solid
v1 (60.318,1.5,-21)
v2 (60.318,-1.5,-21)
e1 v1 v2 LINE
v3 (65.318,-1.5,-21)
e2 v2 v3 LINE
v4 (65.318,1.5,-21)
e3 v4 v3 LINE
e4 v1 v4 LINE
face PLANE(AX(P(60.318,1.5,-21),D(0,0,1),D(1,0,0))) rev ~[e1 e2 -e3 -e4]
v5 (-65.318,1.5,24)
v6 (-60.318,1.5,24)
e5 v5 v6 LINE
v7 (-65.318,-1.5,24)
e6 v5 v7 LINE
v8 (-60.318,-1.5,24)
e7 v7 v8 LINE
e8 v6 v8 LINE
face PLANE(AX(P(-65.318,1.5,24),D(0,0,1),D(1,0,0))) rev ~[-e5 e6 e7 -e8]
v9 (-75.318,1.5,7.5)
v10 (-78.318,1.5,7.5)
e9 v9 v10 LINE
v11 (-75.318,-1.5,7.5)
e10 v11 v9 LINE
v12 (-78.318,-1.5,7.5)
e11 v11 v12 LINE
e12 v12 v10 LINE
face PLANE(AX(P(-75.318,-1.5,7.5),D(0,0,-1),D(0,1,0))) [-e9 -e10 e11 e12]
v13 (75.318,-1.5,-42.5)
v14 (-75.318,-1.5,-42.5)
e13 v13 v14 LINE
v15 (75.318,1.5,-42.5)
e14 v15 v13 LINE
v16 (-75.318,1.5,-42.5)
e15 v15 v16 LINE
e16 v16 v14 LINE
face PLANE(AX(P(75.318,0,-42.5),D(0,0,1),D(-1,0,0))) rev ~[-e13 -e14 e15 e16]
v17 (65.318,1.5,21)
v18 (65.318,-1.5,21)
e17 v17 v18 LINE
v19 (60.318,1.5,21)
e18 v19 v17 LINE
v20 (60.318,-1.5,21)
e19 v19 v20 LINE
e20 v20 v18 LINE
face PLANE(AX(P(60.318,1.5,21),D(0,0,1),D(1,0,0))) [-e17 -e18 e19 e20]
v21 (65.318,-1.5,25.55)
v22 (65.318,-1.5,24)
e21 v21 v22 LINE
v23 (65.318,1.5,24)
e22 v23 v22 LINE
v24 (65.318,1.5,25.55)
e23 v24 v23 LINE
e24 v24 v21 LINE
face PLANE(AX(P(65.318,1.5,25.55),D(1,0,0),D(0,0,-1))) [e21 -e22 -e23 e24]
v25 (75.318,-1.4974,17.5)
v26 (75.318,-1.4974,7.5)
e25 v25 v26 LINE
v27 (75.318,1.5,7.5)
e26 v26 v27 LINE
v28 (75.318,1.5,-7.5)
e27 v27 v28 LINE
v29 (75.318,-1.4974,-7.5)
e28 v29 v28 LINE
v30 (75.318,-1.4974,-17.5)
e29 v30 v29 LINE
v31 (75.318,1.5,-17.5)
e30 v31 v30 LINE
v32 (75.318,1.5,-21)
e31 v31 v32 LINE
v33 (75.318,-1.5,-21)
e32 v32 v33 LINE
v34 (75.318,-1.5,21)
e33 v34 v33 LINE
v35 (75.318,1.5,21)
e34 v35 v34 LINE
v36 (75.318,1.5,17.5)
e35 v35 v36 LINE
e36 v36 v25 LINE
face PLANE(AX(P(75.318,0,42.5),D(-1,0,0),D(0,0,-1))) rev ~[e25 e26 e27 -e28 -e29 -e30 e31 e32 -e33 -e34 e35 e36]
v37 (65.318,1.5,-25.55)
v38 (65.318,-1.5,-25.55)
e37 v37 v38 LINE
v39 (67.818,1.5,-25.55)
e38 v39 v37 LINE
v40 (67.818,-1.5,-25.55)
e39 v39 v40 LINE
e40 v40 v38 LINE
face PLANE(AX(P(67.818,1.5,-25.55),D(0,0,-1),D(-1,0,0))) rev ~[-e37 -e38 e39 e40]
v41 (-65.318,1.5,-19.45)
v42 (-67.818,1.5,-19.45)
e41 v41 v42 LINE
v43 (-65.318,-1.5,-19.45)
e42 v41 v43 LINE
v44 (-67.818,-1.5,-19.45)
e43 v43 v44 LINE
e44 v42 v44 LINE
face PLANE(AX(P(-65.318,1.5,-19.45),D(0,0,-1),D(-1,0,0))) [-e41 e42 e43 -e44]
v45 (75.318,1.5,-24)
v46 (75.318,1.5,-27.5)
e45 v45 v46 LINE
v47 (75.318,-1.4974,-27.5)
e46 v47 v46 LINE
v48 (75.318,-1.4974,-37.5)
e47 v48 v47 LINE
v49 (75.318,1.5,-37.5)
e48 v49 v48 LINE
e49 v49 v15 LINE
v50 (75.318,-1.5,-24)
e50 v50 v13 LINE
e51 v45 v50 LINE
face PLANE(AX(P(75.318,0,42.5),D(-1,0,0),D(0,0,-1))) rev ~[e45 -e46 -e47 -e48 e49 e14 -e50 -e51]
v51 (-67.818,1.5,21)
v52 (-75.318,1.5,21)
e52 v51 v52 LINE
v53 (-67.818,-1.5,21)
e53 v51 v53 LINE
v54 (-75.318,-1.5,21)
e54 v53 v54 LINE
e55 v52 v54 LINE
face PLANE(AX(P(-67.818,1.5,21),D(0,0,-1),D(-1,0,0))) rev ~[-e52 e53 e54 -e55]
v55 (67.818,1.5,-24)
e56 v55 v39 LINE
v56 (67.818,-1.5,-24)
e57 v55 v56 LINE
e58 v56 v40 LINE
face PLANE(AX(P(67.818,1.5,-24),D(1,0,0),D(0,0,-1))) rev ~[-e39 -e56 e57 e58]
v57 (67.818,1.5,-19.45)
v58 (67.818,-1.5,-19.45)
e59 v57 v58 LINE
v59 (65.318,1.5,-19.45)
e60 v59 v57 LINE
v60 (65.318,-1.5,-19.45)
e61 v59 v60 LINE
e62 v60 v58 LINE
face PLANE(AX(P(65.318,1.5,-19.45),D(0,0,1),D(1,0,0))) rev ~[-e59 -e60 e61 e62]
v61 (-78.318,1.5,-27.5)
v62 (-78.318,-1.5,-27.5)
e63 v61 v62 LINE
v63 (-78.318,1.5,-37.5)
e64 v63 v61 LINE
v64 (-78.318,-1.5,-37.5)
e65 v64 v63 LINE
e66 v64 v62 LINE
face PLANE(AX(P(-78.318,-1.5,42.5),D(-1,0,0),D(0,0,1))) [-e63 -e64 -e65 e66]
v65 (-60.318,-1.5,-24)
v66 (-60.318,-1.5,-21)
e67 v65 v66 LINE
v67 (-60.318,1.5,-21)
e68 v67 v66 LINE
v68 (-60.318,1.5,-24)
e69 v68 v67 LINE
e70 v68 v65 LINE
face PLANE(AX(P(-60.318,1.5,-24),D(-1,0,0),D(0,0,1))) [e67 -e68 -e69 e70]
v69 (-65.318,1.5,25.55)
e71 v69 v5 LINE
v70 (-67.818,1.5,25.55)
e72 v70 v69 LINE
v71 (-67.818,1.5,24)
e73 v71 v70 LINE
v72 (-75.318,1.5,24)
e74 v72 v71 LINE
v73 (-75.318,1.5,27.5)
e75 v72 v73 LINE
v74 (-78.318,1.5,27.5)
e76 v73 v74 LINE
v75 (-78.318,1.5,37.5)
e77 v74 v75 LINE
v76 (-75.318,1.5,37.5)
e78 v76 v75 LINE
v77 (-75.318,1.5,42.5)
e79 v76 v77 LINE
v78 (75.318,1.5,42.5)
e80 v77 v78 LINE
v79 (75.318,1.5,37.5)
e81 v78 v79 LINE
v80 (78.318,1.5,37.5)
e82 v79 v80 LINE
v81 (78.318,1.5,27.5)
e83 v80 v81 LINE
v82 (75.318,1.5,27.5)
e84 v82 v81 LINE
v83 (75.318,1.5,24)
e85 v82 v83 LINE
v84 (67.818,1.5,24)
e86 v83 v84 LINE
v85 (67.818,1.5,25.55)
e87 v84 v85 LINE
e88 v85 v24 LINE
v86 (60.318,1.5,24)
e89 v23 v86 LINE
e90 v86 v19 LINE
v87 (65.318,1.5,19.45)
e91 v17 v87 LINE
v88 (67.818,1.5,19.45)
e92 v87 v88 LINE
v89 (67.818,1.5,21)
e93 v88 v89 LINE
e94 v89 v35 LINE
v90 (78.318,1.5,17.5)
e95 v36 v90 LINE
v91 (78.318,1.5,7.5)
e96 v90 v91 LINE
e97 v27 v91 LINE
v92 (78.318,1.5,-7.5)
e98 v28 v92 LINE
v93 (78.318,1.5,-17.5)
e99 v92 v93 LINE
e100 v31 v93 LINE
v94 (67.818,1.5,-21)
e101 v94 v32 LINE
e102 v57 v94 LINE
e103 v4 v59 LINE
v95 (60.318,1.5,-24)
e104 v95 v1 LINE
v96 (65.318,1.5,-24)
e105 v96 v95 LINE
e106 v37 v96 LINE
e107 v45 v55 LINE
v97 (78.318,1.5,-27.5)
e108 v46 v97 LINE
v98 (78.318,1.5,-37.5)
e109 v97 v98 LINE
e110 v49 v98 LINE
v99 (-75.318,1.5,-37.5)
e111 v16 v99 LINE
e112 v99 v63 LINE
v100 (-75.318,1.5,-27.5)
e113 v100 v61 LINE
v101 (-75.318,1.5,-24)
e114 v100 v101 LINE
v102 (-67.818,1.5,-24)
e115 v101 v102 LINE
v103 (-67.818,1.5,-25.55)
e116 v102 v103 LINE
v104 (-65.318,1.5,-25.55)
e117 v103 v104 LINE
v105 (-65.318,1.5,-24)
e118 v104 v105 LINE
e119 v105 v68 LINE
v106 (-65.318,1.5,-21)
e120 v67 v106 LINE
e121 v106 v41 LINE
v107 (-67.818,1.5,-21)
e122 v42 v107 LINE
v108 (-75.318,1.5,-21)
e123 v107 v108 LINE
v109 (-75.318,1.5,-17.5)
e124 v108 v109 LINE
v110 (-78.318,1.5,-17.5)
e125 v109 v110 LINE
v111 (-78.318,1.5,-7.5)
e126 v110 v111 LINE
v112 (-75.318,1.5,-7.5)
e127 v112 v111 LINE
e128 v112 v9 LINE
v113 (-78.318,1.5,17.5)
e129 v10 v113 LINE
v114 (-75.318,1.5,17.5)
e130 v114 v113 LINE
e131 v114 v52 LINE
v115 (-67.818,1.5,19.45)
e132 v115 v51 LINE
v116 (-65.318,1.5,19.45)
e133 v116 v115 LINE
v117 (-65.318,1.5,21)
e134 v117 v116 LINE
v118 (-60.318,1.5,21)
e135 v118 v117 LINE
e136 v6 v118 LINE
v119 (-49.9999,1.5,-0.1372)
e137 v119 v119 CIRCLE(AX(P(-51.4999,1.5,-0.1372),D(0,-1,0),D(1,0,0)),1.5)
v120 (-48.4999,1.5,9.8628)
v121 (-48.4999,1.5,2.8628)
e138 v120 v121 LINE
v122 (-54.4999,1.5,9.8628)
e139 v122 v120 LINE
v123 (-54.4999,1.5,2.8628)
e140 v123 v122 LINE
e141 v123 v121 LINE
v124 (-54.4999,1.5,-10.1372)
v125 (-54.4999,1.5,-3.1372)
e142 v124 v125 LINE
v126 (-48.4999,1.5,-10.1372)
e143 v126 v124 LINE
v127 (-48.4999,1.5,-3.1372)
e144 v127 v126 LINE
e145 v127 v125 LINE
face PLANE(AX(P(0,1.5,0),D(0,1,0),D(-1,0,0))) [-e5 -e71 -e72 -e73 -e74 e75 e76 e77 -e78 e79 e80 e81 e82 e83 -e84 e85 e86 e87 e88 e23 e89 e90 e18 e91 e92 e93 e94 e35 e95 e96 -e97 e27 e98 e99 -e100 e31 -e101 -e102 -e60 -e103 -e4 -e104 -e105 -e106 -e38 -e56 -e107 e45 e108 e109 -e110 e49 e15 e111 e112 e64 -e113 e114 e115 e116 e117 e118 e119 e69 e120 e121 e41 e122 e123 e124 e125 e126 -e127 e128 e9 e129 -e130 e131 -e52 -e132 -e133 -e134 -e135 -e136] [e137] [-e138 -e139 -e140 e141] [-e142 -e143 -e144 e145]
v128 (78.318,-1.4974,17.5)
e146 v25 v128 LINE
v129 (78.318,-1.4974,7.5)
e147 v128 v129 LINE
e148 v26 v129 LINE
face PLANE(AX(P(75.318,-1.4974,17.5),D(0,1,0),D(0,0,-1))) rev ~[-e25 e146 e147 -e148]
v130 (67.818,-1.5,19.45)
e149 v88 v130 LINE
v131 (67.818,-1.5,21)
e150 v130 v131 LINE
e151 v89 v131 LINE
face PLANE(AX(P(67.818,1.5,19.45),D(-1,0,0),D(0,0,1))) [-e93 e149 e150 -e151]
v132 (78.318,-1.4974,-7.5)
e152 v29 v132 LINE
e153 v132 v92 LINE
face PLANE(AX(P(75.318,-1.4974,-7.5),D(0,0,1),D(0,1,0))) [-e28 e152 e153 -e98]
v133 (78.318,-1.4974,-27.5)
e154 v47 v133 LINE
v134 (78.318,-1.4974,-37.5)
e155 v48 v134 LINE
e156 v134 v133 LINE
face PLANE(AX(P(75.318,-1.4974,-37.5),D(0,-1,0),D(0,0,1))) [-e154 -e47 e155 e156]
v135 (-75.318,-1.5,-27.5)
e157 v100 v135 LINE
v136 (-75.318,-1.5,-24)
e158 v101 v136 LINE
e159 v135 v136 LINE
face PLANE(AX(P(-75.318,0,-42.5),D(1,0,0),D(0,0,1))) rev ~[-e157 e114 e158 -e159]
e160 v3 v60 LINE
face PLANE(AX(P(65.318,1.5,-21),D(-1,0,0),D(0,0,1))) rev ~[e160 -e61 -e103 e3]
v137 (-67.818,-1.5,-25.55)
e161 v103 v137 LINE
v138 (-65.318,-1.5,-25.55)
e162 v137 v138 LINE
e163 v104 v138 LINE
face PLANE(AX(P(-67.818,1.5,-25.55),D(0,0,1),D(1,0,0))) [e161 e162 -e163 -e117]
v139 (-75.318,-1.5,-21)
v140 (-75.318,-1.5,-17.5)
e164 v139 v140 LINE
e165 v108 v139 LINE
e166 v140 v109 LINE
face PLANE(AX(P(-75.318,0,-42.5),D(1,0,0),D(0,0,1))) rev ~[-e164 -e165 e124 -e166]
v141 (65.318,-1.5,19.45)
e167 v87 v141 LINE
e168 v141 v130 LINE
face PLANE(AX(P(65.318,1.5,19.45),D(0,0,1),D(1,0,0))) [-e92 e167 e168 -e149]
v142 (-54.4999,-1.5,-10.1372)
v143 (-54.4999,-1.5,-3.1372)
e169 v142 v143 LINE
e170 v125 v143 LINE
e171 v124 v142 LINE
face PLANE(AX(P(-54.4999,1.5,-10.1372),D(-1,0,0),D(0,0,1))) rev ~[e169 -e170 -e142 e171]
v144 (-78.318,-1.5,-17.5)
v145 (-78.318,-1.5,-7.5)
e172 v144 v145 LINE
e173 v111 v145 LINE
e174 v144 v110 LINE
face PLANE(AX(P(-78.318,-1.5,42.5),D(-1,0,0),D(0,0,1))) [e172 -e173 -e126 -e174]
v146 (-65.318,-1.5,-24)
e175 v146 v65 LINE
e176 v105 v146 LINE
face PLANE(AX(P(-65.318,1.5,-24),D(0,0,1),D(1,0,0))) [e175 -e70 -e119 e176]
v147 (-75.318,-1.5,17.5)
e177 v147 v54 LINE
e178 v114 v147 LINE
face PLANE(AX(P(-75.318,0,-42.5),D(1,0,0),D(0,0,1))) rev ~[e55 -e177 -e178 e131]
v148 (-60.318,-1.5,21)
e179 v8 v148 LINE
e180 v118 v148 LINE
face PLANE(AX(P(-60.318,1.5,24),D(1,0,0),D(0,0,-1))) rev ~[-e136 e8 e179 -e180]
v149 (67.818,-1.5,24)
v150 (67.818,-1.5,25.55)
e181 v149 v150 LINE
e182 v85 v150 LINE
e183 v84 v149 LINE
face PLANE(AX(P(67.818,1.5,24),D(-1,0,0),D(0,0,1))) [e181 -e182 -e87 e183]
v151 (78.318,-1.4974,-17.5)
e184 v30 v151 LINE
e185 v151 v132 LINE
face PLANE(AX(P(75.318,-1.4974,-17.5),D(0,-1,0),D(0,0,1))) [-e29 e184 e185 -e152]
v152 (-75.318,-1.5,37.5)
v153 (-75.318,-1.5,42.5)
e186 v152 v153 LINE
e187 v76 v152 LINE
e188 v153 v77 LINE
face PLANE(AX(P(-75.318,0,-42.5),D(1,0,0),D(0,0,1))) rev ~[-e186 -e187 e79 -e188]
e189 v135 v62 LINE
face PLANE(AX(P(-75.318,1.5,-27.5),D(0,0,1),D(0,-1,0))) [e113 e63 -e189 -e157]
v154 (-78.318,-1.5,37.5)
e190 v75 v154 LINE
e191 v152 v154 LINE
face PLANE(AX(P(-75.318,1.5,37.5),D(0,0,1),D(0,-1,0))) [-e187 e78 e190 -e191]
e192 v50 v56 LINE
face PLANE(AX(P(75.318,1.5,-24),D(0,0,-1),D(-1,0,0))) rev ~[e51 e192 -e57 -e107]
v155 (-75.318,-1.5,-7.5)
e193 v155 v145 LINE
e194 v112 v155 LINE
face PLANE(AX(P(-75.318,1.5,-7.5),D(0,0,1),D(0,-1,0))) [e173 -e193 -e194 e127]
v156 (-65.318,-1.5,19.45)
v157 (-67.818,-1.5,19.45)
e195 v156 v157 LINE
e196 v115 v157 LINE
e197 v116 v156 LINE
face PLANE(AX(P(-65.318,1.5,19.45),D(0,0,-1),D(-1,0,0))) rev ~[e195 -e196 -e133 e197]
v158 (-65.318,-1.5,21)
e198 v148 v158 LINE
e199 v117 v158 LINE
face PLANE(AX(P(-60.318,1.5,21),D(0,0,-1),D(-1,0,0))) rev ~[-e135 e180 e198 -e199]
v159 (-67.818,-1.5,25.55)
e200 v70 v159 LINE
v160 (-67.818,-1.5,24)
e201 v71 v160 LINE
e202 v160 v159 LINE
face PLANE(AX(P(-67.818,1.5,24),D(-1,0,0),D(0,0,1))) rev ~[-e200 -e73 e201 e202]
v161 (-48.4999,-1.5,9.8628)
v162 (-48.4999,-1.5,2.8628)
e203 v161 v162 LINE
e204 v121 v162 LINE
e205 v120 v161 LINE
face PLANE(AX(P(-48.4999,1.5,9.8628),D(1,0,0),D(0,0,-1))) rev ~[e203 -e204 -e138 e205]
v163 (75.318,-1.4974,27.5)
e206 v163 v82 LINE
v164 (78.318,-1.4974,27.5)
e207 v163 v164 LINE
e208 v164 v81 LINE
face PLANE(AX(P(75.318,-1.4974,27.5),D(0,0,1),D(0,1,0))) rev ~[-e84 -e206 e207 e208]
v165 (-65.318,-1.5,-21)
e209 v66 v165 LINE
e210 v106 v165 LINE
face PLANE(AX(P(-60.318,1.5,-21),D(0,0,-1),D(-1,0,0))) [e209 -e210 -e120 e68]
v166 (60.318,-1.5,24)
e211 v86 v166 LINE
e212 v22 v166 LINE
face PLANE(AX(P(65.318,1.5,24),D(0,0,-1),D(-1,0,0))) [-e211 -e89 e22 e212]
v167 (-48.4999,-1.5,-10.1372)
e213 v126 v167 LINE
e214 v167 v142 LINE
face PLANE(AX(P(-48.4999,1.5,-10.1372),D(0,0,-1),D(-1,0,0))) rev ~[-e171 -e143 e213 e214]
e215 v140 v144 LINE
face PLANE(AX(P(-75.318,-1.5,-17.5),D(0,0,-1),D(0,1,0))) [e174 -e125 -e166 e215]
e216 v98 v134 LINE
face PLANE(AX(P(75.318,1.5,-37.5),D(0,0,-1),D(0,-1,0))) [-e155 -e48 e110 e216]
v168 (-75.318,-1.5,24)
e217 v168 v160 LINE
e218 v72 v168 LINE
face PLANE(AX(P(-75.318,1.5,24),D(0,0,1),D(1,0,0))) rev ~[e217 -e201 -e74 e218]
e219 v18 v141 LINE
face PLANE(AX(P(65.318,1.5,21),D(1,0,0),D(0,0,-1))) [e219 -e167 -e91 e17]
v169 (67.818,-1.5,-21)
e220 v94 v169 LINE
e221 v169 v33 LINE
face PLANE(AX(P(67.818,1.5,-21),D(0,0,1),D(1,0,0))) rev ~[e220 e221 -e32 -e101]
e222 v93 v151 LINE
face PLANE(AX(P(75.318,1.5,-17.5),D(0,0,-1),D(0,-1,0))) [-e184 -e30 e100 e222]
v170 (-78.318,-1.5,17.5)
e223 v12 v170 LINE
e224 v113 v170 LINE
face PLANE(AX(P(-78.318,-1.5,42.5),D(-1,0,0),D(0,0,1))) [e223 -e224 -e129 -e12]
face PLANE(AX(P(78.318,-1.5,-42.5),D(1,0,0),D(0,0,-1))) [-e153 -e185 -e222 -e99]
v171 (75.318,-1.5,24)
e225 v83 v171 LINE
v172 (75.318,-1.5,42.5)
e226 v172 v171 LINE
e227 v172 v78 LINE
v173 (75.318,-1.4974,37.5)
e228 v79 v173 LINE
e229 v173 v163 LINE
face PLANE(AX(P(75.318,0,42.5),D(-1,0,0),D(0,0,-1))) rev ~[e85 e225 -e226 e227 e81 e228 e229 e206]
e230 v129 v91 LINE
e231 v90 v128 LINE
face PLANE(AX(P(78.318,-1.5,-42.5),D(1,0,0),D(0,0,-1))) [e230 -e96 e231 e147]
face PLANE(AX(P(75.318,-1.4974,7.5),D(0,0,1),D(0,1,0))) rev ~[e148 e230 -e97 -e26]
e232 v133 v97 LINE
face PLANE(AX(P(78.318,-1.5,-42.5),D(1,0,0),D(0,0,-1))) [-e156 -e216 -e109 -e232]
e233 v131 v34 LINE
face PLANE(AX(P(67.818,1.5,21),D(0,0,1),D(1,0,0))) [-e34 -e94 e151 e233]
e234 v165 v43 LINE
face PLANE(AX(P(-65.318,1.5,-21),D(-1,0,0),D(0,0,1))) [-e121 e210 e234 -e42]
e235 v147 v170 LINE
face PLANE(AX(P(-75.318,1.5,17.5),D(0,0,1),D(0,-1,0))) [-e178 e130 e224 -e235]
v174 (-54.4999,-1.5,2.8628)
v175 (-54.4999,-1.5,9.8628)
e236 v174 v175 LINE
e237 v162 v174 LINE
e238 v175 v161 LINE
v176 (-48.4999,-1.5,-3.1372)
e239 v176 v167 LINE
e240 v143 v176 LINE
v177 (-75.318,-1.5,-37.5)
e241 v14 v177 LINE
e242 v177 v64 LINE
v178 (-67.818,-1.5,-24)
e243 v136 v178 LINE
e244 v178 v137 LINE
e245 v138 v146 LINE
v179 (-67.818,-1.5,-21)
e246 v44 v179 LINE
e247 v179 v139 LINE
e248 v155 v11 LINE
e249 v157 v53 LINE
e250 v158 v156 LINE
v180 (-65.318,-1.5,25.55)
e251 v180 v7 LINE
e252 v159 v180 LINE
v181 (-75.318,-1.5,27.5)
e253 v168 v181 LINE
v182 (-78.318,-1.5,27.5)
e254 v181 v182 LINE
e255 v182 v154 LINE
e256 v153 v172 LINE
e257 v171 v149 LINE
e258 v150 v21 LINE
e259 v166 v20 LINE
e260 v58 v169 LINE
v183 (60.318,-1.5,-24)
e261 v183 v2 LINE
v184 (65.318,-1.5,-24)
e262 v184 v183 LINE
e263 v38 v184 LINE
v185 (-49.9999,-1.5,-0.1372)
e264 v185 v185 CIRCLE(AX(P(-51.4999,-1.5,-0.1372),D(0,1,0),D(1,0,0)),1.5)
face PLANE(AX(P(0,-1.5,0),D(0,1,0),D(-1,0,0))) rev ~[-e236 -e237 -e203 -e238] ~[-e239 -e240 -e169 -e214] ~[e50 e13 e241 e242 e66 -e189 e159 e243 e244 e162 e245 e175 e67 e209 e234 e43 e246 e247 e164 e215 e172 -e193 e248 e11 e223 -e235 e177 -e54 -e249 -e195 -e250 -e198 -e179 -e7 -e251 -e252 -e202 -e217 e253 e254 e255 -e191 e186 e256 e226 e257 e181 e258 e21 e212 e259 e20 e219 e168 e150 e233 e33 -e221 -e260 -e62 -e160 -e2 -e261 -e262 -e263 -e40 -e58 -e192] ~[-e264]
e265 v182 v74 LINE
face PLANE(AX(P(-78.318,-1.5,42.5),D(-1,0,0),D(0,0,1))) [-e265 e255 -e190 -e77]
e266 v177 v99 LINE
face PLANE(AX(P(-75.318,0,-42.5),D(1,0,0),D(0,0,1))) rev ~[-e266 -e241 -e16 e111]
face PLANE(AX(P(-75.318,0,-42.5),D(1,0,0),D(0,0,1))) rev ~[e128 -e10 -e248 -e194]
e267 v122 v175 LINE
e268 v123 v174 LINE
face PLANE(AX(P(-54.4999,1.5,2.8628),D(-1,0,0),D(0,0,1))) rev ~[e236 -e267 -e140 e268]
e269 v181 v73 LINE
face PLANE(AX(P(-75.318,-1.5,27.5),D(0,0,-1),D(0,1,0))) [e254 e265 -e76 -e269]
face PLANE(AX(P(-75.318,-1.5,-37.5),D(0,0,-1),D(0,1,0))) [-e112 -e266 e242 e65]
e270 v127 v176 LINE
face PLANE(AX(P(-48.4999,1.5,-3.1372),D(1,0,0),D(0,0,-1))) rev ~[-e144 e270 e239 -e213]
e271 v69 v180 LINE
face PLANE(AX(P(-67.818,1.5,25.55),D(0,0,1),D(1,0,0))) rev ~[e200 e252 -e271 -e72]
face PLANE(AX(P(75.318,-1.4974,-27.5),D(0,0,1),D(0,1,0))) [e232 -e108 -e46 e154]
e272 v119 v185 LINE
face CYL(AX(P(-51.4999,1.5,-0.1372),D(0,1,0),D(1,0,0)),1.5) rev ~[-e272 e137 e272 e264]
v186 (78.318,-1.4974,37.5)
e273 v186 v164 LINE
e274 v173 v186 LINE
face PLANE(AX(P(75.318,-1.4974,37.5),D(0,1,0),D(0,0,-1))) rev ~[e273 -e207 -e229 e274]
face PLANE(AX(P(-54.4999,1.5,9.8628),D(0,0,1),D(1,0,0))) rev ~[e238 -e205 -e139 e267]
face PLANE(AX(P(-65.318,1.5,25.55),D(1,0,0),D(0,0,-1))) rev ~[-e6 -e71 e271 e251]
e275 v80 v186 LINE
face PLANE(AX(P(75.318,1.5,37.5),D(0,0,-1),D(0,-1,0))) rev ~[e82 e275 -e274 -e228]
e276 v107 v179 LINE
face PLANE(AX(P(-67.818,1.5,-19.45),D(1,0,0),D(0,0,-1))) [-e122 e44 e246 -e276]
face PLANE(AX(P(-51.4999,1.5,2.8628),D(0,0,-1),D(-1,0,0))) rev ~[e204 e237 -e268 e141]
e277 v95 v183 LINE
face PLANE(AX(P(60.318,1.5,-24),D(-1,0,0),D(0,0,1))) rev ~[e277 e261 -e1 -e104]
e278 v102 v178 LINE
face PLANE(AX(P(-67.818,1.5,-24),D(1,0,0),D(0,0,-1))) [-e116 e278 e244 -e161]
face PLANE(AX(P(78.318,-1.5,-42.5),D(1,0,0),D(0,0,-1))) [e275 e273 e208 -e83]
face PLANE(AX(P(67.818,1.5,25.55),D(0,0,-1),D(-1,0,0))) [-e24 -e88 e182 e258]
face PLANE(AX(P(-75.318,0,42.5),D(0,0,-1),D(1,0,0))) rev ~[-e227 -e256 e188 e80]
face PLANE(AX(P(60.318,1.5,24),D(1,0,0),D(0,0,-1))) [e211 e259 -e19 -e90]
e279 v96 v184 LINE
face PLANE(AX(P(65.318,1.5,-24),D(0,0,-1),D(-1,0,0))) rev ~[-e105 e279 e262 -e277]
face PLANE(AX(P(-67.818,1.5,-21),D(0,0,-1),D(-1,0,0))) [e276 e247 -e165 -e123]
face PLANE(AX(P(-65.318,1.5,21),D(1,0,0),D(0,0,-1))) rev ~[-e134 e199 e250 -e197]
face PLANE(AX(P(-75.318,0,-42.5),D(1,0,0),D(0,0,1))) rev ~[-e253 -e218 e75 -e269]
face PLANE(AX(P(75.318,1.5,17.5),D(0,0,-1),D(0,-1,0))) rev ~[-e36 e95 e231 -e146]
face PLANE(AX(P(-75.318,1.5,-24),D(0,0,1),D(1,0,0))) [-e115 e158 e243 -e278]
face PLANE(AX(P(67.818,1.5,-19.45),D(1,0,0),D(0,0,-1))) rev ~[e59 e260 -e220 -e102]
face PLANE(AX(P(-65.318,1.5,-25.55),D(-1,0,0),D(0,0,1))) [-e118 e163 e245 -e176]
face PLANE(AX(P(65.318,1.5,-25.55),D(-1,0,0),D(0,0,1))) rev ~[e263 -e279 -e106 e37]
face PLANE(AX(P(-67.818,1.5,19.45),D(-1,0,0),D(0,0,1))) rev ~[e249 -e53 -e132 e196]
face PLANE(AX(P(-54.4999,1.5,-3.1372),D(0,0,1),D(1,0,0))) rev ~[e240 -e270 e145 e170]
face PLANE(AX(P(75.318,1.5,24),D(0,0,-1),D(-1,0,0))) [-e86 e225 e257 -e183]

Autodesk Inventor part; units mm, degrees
ref_plane "YZ Plane" through (0, 0, 0) normal (1, 0, 0) x (0, 1, 0)
ref_plane "XZ Plane" through (0, 0, 0) normal (0, 1, 0) x (-1, 0, 0)
ref_plane "XY Plane" through (0, 0, 0) normal (0, 0, 1) x (1, 0, 0)
sketch "Эскиз1" plane through (0, 0, 0) normal (0, 1, 0) x (-1, 0, 0)
  line L0 (75.318, 42.5) -> (-75.318, 42.5)
  line L1 (-75.318, 42.5) -> (-75.318, -42.5)
  line L2 (-75.318, -42.5) -> (75.318, -42.5)
  line L3 (75.318, -42.5) -> (75.318, 42.5)
  line L4 (75.318, 42.5) -> (-75.318, -42.5) construction
  line L5 (-75.318, 42.5) -> (75.318, -42.5) construction
  point P0 (0, 0)
  dimension "d0" = 150.636
  dimension "d1" = 85
extrude "Выдавливание1" add sketch "Эскиз1" along normal mid plane 3
sketch "Эскиз3" plane through (-75.318, -1.5, 42.5) normal (-1, 0, 0) x (0, 0, 1)
  line L0 (-85, 0) -> (0, 0) projected
  line L1 (-80, 3) -> (-70, 3)
  line L2 (-70, 3) -> (-70, 0)
  line L3 (-70, 0) -> (-80, 0)
  line L4 (-80, 0) -> (-80, 3)
  line L5 (-80, 3) -> (-70, 0) construction
  line L6 (-70, 3) -> (-80, 0) construction
  line L7 (-60, 3) -> (-50, 3)
  line L8 (-50, 3) -> (-50, 0)
  line L9 (-50, 0) -> (-60, 0)
  line L10 (-60, 0) -> (-60, 3)
  line L11 (-60, 3) -> (-50, 0) construction
  line L12 (-50, 3) -> (-60, 0) construction
  line L13 (-35, 3) -> (-25, 3)
  line L14 (-25, 3) -> (-25, 0)
  line L15 (-25, 0) -> (-35, 0)
  line L16 (-35, 0) -> (-35, 3)
  line L17 (-35, 3) -> (-25, 0) construction
  line L18 (-25, 3) -> (-35, 0) construction
  line L19 (-15, 3) -> (-5, 3)
  line L20 (-5, 3) -> (-5, 0)
  line L21 (-5, 0) -> (-15, 0)
  line L22 (-15, 0) -> (-15, 3)
  line L23 (-15, 3) -> (-5, 0) construction
  line L24 (-5, 3) -> (-15, 0) construction
  line L25 (0, 0) -> (0, 3) projected
  line L26 (-85, 0) -> (-85, 3) projected
  point P0 (-42.5, 1.5)
  point P1 (-75, 1.5)
  point P2 (-55, 1.5)
  point P3 (-30, 1.5)
  point P4 (-10, 1.5)
  point P5 (-15, 1.5)
  point P6 (-25, 1.5)
  point P7 (-60, 1.5)
  point P8 (-35, 0)
  point P9 (-15, 0)
  dimension "d8" = 10
  dimension "d9" = 10
  dimension "d10" = 10
  dimension "d11" = 10
  dimension "d12" = 3
  dimension "d13" = 10
  dimension "d14" = 10
  dimension "d15" = 5
  dimension "d16" = 5
extrude "Выдавливание3" add sketch "Эскиз3" along normal blind 3
sketch "Эскиз4" plane through (75.318, -1.5, -42.5) normal (1, 0, 0) x (0, 0, -1)
  line L0 (-85, 3) -> (0, 3) projected
  line L1 (-80, 0.0026) -> (-70, 0.0026)
  line L2 (-70, 0.0026) -> (-70, 3)
  line L3 (-70, 3) -> (-80, 3)
  line L4 (-80, 3) -> (-80, 0.0026)
  line L5 (-80, 0.0026) -> (-70, 3) construction
  line L6 (-70, 0.0026) -> (-80, 3) construction
  line L7 (-60, 0.0026) -> (-50, 0.0026)
  line L8 (-50, 0.0026) -> (-50, 3)
  line L9 (-50, 3) -> (-60, 3)
  line L10 (-60, 3) -> (-60, 0.0026)
  line L11 (-60, 0.0026) -> (-50, 3) construction
  line L12 (-50, 0.0026) -> (-60, 3) construction
  line L13 (-42.5, 3) -> (-42.5, 0) construction
  line L14 (0, 0) -> (-85, 0) projected
  line L15 (-5, 0.0026) -> (-15, 0.0026)
  line L16 (-15, 0.0026) -> (-15, 3)
  line L17 (-15, 3) -> (-5, 3)
  line L18 (-5, 3) -> (-5, 0.0026)
  line L19 (-5, 0.0026) -> (-15, 3) construction
  line L20 (-15, 0.0026) -> (-5, 3) construction
  line L21 (-25, 0.0026) -> (-35, 0.0026)
  line L22 (-35, 0.0026) -> (-35, 3)
  line L23 (-35, 3) -> (-25, 3)
  line L24 (-25, 3) -> (-25, 0.0026)
  line L25 (-25, 0.0026) -> (-35, 3) construction
  line L26 (-35, 0.0026) -> (-25, 3) construction
  line L27 (-85, 3) -> (-85, 0) projected
  point P0 (-42.5, 1.5)
  point P1 (-75, 1.5013)
  point P2 (-55, 1.5013)
  point P3 (-10, 1.5013)
  point P4 (-30, 1.5013)
  point P5 (-35, 3)
  point P6 (-5, 3)
  point P7 (-15, 3)
  dimension "d19" = 10
  dimension "d24" = 20
  dimension "d29" = 5
extrude "Выдавливание4" add sketch "Эскиз4" along normal blind 3
sketch "Эскиз5" plane through (0, 1.5, 0) normal (0, 1, 0) x (1, 0, 0)
  line L0 (-75.318, 7.5) -> (-75.318, -7.5) projected
  line L1 (-54.4999, -2.8628) -> (-54.4999, -9.8628)
  line L2 (-54.4999, -9.8628) -> (-48.4999, -9.8628)
  line L3 (-48.4999, -9.8628) -> (-48.4999, -2.8628)
  line L4 (-48.4999, -2.8628) -> (-54.4999, -2.8628)
  line L5 (-48.4999, 3.1372) -> (-48.4999, 10.1372)
  line L6 (-48.4999, 10.1372) -> (-54.4999, 10.1372)
  line L7 (-54.4999, 10.1372) -> (-54.4999, 3.1372)
  line L8 (-54.4999, 3.1372) -> (-48.4999, 3.1372)
  line L9 (-51.4999, -2.8628) -> (-51.4999, 3.1372)
  circle A0 centre (-51.4999, 0.1372) radius 1.5
  point P0 (0, 0)
  dimension "d37" = 3
extrude "Выдавливание5" cut sketch "Эскиз5" against normal blind 3
sketch "Эскиз6" plane through (0, 1.5, 0) normal (0, 1, 0) x (1, 0, 0)
  line L0 (75.318, -27.5) -> (75.318, -17.5) projected
  line L1 (60.318, -24) -> (60.318, -21)
  line L2 (75.318, -21) -> (75.318, -24)
  line L3 (67.818, -25.55) -> (65.318, -25.55)
  line L4 (65.318, -19.45) -> (67.818, -19.45)
  line L5 (67.818, -19.45) -> (67.818, -21)
  line L6 (67.818, -24) -> (67.818, -25.55)
  line L7 (75.318, -24) -> (67.818, -24)
  line L8 (65.318, -24) -> (60.318, -24)
  line L9 (65.318, -25.55) -> (65.318, -24)
  line L10 (65.318, -21) -> (65.318, -19.45)
  line L11 (60.318, -21) -> (65.318, -21)
  line L12 (67.818, -21) -> (75.318, -21)
  line L13 (66.568, 0) -> (53.2147, 0) construction
  line L14 (0, -10.2584) -> (0, 8.5624) construction
  line L15 (75.318, 27.5) -> (75.318, 17.5)
  line L16 (60.318, 24) -> (60.318, 21)
  line L17 (75.318, 21) -> (75.318, 24)
  line L18 (67.818, 25.55) -> (65.318, 25.55)
  line L19 (65.318, 19.45) -> (67.818, 19.45)
  line L20 (67.818, 19.45) -> (67.818, 21)
  line L21 (67.818, 24) -> (67.818, 25.55)
  line L22 (75.318, 24) -> (67.818, 24)
  line L23 (65.318, 24) -> (60.318, 24)
  line L24 (65.318, 25.55) -> (65.318, 24)
  line L25 (65.318, 21) -> (65.318, 19.45)
  line L26 (60.318, 21) -> (65.318, 21)
  line L27 (67.818, 21) -> (75.318, 21)
  line L28 (0, 10.2584) -> (0, -8.5624) construction
  line L29 (-75.318, -27.5) -> (-75.318, -17.5)
  line L30 (-60.318, -24) -> (-60.318, -21)
  line L31 (-75.318, -21) -> (-75.318, -24)
  line L32 (-67.818, -25.55) -> (-65.318, -25.55)
  line L33 (-65.318, -19.45) -> (-67.818, -19.45)
  line L34 (-67.818, -19.45) -> (-67.818, -21)
  line L35 (-67.818, -24) -> (-67.818, -25.55)
  line L36 (-75.318, -24) -> (-67.818, -24)
  line L37 (-65.318, -24) -> (-60.318, -24)
  line L38 (-65.318, -25.55) -> (-65.318, -24)
  line L39 (-65.318, -21) -> (-65.318, -19.45)
  line L40 (-60.318, -21) -> (-65.318, -21)
  line L41 (-67.818, -21) -> (-75.318, -21)
  line L42 (-66.568, 0) -> (-53.2147, 0) construction
  line L43 (-60.318, 24) -> (-60.318, 21)
  line L44 (-65.318, 24) -> (-60.318, 24)
  line L45 (-60.318, 21) -> (-65.318, 21)
  line L46 (-65.318, 21) -> (-65.318, 19.45)
  line L47 (-65.318, 19.45) -> (-67.818, 19.45)
  line L48 (-67.818, 19.45) -> (-67.818, 21)
  line L49 (-65.318, 25.55) -> (-65.318, 24)
  line L50 (-67.818, 25.55) -> (-65.318, 25.55)
  line L51 (-67.818, 24) -> (-67.818, 25.55)
  line L52 (-67.818, 21) -> (-75.318, 21)
  line L53 (-75.318, 21) -> (-75.318, 24)
  line L54 (-75.318, 27.5) -> (-75.318, 17.5)
  line L55 (-75.318, 24) -> (-67.818, 24)
  point P0 (0, 0)
  point P1 (67.818, -23.3834)
  point P2 (67.818, 23.3834)
  point P3 (-67.818, -23.3834)
  point P4 (-67.818, 23.3834)
  point P5 (-75.318, -21)
  point P6 (75.318, -22.5)
  dimension "d38" = 6.1
  dimension "d39" = 3
  dimension "d40" = 2.5
  dimension "d41" = 15
  dimension "d42" = 1.55
  dimension "d43" = 1.55
  dimension "d44" = 1.55
  dimension "d45" = 1.55
extrude "Выдавливание6" cut sketch "Эскиз6" against normal blind 3
properties part number "Нижняя часть головы"
